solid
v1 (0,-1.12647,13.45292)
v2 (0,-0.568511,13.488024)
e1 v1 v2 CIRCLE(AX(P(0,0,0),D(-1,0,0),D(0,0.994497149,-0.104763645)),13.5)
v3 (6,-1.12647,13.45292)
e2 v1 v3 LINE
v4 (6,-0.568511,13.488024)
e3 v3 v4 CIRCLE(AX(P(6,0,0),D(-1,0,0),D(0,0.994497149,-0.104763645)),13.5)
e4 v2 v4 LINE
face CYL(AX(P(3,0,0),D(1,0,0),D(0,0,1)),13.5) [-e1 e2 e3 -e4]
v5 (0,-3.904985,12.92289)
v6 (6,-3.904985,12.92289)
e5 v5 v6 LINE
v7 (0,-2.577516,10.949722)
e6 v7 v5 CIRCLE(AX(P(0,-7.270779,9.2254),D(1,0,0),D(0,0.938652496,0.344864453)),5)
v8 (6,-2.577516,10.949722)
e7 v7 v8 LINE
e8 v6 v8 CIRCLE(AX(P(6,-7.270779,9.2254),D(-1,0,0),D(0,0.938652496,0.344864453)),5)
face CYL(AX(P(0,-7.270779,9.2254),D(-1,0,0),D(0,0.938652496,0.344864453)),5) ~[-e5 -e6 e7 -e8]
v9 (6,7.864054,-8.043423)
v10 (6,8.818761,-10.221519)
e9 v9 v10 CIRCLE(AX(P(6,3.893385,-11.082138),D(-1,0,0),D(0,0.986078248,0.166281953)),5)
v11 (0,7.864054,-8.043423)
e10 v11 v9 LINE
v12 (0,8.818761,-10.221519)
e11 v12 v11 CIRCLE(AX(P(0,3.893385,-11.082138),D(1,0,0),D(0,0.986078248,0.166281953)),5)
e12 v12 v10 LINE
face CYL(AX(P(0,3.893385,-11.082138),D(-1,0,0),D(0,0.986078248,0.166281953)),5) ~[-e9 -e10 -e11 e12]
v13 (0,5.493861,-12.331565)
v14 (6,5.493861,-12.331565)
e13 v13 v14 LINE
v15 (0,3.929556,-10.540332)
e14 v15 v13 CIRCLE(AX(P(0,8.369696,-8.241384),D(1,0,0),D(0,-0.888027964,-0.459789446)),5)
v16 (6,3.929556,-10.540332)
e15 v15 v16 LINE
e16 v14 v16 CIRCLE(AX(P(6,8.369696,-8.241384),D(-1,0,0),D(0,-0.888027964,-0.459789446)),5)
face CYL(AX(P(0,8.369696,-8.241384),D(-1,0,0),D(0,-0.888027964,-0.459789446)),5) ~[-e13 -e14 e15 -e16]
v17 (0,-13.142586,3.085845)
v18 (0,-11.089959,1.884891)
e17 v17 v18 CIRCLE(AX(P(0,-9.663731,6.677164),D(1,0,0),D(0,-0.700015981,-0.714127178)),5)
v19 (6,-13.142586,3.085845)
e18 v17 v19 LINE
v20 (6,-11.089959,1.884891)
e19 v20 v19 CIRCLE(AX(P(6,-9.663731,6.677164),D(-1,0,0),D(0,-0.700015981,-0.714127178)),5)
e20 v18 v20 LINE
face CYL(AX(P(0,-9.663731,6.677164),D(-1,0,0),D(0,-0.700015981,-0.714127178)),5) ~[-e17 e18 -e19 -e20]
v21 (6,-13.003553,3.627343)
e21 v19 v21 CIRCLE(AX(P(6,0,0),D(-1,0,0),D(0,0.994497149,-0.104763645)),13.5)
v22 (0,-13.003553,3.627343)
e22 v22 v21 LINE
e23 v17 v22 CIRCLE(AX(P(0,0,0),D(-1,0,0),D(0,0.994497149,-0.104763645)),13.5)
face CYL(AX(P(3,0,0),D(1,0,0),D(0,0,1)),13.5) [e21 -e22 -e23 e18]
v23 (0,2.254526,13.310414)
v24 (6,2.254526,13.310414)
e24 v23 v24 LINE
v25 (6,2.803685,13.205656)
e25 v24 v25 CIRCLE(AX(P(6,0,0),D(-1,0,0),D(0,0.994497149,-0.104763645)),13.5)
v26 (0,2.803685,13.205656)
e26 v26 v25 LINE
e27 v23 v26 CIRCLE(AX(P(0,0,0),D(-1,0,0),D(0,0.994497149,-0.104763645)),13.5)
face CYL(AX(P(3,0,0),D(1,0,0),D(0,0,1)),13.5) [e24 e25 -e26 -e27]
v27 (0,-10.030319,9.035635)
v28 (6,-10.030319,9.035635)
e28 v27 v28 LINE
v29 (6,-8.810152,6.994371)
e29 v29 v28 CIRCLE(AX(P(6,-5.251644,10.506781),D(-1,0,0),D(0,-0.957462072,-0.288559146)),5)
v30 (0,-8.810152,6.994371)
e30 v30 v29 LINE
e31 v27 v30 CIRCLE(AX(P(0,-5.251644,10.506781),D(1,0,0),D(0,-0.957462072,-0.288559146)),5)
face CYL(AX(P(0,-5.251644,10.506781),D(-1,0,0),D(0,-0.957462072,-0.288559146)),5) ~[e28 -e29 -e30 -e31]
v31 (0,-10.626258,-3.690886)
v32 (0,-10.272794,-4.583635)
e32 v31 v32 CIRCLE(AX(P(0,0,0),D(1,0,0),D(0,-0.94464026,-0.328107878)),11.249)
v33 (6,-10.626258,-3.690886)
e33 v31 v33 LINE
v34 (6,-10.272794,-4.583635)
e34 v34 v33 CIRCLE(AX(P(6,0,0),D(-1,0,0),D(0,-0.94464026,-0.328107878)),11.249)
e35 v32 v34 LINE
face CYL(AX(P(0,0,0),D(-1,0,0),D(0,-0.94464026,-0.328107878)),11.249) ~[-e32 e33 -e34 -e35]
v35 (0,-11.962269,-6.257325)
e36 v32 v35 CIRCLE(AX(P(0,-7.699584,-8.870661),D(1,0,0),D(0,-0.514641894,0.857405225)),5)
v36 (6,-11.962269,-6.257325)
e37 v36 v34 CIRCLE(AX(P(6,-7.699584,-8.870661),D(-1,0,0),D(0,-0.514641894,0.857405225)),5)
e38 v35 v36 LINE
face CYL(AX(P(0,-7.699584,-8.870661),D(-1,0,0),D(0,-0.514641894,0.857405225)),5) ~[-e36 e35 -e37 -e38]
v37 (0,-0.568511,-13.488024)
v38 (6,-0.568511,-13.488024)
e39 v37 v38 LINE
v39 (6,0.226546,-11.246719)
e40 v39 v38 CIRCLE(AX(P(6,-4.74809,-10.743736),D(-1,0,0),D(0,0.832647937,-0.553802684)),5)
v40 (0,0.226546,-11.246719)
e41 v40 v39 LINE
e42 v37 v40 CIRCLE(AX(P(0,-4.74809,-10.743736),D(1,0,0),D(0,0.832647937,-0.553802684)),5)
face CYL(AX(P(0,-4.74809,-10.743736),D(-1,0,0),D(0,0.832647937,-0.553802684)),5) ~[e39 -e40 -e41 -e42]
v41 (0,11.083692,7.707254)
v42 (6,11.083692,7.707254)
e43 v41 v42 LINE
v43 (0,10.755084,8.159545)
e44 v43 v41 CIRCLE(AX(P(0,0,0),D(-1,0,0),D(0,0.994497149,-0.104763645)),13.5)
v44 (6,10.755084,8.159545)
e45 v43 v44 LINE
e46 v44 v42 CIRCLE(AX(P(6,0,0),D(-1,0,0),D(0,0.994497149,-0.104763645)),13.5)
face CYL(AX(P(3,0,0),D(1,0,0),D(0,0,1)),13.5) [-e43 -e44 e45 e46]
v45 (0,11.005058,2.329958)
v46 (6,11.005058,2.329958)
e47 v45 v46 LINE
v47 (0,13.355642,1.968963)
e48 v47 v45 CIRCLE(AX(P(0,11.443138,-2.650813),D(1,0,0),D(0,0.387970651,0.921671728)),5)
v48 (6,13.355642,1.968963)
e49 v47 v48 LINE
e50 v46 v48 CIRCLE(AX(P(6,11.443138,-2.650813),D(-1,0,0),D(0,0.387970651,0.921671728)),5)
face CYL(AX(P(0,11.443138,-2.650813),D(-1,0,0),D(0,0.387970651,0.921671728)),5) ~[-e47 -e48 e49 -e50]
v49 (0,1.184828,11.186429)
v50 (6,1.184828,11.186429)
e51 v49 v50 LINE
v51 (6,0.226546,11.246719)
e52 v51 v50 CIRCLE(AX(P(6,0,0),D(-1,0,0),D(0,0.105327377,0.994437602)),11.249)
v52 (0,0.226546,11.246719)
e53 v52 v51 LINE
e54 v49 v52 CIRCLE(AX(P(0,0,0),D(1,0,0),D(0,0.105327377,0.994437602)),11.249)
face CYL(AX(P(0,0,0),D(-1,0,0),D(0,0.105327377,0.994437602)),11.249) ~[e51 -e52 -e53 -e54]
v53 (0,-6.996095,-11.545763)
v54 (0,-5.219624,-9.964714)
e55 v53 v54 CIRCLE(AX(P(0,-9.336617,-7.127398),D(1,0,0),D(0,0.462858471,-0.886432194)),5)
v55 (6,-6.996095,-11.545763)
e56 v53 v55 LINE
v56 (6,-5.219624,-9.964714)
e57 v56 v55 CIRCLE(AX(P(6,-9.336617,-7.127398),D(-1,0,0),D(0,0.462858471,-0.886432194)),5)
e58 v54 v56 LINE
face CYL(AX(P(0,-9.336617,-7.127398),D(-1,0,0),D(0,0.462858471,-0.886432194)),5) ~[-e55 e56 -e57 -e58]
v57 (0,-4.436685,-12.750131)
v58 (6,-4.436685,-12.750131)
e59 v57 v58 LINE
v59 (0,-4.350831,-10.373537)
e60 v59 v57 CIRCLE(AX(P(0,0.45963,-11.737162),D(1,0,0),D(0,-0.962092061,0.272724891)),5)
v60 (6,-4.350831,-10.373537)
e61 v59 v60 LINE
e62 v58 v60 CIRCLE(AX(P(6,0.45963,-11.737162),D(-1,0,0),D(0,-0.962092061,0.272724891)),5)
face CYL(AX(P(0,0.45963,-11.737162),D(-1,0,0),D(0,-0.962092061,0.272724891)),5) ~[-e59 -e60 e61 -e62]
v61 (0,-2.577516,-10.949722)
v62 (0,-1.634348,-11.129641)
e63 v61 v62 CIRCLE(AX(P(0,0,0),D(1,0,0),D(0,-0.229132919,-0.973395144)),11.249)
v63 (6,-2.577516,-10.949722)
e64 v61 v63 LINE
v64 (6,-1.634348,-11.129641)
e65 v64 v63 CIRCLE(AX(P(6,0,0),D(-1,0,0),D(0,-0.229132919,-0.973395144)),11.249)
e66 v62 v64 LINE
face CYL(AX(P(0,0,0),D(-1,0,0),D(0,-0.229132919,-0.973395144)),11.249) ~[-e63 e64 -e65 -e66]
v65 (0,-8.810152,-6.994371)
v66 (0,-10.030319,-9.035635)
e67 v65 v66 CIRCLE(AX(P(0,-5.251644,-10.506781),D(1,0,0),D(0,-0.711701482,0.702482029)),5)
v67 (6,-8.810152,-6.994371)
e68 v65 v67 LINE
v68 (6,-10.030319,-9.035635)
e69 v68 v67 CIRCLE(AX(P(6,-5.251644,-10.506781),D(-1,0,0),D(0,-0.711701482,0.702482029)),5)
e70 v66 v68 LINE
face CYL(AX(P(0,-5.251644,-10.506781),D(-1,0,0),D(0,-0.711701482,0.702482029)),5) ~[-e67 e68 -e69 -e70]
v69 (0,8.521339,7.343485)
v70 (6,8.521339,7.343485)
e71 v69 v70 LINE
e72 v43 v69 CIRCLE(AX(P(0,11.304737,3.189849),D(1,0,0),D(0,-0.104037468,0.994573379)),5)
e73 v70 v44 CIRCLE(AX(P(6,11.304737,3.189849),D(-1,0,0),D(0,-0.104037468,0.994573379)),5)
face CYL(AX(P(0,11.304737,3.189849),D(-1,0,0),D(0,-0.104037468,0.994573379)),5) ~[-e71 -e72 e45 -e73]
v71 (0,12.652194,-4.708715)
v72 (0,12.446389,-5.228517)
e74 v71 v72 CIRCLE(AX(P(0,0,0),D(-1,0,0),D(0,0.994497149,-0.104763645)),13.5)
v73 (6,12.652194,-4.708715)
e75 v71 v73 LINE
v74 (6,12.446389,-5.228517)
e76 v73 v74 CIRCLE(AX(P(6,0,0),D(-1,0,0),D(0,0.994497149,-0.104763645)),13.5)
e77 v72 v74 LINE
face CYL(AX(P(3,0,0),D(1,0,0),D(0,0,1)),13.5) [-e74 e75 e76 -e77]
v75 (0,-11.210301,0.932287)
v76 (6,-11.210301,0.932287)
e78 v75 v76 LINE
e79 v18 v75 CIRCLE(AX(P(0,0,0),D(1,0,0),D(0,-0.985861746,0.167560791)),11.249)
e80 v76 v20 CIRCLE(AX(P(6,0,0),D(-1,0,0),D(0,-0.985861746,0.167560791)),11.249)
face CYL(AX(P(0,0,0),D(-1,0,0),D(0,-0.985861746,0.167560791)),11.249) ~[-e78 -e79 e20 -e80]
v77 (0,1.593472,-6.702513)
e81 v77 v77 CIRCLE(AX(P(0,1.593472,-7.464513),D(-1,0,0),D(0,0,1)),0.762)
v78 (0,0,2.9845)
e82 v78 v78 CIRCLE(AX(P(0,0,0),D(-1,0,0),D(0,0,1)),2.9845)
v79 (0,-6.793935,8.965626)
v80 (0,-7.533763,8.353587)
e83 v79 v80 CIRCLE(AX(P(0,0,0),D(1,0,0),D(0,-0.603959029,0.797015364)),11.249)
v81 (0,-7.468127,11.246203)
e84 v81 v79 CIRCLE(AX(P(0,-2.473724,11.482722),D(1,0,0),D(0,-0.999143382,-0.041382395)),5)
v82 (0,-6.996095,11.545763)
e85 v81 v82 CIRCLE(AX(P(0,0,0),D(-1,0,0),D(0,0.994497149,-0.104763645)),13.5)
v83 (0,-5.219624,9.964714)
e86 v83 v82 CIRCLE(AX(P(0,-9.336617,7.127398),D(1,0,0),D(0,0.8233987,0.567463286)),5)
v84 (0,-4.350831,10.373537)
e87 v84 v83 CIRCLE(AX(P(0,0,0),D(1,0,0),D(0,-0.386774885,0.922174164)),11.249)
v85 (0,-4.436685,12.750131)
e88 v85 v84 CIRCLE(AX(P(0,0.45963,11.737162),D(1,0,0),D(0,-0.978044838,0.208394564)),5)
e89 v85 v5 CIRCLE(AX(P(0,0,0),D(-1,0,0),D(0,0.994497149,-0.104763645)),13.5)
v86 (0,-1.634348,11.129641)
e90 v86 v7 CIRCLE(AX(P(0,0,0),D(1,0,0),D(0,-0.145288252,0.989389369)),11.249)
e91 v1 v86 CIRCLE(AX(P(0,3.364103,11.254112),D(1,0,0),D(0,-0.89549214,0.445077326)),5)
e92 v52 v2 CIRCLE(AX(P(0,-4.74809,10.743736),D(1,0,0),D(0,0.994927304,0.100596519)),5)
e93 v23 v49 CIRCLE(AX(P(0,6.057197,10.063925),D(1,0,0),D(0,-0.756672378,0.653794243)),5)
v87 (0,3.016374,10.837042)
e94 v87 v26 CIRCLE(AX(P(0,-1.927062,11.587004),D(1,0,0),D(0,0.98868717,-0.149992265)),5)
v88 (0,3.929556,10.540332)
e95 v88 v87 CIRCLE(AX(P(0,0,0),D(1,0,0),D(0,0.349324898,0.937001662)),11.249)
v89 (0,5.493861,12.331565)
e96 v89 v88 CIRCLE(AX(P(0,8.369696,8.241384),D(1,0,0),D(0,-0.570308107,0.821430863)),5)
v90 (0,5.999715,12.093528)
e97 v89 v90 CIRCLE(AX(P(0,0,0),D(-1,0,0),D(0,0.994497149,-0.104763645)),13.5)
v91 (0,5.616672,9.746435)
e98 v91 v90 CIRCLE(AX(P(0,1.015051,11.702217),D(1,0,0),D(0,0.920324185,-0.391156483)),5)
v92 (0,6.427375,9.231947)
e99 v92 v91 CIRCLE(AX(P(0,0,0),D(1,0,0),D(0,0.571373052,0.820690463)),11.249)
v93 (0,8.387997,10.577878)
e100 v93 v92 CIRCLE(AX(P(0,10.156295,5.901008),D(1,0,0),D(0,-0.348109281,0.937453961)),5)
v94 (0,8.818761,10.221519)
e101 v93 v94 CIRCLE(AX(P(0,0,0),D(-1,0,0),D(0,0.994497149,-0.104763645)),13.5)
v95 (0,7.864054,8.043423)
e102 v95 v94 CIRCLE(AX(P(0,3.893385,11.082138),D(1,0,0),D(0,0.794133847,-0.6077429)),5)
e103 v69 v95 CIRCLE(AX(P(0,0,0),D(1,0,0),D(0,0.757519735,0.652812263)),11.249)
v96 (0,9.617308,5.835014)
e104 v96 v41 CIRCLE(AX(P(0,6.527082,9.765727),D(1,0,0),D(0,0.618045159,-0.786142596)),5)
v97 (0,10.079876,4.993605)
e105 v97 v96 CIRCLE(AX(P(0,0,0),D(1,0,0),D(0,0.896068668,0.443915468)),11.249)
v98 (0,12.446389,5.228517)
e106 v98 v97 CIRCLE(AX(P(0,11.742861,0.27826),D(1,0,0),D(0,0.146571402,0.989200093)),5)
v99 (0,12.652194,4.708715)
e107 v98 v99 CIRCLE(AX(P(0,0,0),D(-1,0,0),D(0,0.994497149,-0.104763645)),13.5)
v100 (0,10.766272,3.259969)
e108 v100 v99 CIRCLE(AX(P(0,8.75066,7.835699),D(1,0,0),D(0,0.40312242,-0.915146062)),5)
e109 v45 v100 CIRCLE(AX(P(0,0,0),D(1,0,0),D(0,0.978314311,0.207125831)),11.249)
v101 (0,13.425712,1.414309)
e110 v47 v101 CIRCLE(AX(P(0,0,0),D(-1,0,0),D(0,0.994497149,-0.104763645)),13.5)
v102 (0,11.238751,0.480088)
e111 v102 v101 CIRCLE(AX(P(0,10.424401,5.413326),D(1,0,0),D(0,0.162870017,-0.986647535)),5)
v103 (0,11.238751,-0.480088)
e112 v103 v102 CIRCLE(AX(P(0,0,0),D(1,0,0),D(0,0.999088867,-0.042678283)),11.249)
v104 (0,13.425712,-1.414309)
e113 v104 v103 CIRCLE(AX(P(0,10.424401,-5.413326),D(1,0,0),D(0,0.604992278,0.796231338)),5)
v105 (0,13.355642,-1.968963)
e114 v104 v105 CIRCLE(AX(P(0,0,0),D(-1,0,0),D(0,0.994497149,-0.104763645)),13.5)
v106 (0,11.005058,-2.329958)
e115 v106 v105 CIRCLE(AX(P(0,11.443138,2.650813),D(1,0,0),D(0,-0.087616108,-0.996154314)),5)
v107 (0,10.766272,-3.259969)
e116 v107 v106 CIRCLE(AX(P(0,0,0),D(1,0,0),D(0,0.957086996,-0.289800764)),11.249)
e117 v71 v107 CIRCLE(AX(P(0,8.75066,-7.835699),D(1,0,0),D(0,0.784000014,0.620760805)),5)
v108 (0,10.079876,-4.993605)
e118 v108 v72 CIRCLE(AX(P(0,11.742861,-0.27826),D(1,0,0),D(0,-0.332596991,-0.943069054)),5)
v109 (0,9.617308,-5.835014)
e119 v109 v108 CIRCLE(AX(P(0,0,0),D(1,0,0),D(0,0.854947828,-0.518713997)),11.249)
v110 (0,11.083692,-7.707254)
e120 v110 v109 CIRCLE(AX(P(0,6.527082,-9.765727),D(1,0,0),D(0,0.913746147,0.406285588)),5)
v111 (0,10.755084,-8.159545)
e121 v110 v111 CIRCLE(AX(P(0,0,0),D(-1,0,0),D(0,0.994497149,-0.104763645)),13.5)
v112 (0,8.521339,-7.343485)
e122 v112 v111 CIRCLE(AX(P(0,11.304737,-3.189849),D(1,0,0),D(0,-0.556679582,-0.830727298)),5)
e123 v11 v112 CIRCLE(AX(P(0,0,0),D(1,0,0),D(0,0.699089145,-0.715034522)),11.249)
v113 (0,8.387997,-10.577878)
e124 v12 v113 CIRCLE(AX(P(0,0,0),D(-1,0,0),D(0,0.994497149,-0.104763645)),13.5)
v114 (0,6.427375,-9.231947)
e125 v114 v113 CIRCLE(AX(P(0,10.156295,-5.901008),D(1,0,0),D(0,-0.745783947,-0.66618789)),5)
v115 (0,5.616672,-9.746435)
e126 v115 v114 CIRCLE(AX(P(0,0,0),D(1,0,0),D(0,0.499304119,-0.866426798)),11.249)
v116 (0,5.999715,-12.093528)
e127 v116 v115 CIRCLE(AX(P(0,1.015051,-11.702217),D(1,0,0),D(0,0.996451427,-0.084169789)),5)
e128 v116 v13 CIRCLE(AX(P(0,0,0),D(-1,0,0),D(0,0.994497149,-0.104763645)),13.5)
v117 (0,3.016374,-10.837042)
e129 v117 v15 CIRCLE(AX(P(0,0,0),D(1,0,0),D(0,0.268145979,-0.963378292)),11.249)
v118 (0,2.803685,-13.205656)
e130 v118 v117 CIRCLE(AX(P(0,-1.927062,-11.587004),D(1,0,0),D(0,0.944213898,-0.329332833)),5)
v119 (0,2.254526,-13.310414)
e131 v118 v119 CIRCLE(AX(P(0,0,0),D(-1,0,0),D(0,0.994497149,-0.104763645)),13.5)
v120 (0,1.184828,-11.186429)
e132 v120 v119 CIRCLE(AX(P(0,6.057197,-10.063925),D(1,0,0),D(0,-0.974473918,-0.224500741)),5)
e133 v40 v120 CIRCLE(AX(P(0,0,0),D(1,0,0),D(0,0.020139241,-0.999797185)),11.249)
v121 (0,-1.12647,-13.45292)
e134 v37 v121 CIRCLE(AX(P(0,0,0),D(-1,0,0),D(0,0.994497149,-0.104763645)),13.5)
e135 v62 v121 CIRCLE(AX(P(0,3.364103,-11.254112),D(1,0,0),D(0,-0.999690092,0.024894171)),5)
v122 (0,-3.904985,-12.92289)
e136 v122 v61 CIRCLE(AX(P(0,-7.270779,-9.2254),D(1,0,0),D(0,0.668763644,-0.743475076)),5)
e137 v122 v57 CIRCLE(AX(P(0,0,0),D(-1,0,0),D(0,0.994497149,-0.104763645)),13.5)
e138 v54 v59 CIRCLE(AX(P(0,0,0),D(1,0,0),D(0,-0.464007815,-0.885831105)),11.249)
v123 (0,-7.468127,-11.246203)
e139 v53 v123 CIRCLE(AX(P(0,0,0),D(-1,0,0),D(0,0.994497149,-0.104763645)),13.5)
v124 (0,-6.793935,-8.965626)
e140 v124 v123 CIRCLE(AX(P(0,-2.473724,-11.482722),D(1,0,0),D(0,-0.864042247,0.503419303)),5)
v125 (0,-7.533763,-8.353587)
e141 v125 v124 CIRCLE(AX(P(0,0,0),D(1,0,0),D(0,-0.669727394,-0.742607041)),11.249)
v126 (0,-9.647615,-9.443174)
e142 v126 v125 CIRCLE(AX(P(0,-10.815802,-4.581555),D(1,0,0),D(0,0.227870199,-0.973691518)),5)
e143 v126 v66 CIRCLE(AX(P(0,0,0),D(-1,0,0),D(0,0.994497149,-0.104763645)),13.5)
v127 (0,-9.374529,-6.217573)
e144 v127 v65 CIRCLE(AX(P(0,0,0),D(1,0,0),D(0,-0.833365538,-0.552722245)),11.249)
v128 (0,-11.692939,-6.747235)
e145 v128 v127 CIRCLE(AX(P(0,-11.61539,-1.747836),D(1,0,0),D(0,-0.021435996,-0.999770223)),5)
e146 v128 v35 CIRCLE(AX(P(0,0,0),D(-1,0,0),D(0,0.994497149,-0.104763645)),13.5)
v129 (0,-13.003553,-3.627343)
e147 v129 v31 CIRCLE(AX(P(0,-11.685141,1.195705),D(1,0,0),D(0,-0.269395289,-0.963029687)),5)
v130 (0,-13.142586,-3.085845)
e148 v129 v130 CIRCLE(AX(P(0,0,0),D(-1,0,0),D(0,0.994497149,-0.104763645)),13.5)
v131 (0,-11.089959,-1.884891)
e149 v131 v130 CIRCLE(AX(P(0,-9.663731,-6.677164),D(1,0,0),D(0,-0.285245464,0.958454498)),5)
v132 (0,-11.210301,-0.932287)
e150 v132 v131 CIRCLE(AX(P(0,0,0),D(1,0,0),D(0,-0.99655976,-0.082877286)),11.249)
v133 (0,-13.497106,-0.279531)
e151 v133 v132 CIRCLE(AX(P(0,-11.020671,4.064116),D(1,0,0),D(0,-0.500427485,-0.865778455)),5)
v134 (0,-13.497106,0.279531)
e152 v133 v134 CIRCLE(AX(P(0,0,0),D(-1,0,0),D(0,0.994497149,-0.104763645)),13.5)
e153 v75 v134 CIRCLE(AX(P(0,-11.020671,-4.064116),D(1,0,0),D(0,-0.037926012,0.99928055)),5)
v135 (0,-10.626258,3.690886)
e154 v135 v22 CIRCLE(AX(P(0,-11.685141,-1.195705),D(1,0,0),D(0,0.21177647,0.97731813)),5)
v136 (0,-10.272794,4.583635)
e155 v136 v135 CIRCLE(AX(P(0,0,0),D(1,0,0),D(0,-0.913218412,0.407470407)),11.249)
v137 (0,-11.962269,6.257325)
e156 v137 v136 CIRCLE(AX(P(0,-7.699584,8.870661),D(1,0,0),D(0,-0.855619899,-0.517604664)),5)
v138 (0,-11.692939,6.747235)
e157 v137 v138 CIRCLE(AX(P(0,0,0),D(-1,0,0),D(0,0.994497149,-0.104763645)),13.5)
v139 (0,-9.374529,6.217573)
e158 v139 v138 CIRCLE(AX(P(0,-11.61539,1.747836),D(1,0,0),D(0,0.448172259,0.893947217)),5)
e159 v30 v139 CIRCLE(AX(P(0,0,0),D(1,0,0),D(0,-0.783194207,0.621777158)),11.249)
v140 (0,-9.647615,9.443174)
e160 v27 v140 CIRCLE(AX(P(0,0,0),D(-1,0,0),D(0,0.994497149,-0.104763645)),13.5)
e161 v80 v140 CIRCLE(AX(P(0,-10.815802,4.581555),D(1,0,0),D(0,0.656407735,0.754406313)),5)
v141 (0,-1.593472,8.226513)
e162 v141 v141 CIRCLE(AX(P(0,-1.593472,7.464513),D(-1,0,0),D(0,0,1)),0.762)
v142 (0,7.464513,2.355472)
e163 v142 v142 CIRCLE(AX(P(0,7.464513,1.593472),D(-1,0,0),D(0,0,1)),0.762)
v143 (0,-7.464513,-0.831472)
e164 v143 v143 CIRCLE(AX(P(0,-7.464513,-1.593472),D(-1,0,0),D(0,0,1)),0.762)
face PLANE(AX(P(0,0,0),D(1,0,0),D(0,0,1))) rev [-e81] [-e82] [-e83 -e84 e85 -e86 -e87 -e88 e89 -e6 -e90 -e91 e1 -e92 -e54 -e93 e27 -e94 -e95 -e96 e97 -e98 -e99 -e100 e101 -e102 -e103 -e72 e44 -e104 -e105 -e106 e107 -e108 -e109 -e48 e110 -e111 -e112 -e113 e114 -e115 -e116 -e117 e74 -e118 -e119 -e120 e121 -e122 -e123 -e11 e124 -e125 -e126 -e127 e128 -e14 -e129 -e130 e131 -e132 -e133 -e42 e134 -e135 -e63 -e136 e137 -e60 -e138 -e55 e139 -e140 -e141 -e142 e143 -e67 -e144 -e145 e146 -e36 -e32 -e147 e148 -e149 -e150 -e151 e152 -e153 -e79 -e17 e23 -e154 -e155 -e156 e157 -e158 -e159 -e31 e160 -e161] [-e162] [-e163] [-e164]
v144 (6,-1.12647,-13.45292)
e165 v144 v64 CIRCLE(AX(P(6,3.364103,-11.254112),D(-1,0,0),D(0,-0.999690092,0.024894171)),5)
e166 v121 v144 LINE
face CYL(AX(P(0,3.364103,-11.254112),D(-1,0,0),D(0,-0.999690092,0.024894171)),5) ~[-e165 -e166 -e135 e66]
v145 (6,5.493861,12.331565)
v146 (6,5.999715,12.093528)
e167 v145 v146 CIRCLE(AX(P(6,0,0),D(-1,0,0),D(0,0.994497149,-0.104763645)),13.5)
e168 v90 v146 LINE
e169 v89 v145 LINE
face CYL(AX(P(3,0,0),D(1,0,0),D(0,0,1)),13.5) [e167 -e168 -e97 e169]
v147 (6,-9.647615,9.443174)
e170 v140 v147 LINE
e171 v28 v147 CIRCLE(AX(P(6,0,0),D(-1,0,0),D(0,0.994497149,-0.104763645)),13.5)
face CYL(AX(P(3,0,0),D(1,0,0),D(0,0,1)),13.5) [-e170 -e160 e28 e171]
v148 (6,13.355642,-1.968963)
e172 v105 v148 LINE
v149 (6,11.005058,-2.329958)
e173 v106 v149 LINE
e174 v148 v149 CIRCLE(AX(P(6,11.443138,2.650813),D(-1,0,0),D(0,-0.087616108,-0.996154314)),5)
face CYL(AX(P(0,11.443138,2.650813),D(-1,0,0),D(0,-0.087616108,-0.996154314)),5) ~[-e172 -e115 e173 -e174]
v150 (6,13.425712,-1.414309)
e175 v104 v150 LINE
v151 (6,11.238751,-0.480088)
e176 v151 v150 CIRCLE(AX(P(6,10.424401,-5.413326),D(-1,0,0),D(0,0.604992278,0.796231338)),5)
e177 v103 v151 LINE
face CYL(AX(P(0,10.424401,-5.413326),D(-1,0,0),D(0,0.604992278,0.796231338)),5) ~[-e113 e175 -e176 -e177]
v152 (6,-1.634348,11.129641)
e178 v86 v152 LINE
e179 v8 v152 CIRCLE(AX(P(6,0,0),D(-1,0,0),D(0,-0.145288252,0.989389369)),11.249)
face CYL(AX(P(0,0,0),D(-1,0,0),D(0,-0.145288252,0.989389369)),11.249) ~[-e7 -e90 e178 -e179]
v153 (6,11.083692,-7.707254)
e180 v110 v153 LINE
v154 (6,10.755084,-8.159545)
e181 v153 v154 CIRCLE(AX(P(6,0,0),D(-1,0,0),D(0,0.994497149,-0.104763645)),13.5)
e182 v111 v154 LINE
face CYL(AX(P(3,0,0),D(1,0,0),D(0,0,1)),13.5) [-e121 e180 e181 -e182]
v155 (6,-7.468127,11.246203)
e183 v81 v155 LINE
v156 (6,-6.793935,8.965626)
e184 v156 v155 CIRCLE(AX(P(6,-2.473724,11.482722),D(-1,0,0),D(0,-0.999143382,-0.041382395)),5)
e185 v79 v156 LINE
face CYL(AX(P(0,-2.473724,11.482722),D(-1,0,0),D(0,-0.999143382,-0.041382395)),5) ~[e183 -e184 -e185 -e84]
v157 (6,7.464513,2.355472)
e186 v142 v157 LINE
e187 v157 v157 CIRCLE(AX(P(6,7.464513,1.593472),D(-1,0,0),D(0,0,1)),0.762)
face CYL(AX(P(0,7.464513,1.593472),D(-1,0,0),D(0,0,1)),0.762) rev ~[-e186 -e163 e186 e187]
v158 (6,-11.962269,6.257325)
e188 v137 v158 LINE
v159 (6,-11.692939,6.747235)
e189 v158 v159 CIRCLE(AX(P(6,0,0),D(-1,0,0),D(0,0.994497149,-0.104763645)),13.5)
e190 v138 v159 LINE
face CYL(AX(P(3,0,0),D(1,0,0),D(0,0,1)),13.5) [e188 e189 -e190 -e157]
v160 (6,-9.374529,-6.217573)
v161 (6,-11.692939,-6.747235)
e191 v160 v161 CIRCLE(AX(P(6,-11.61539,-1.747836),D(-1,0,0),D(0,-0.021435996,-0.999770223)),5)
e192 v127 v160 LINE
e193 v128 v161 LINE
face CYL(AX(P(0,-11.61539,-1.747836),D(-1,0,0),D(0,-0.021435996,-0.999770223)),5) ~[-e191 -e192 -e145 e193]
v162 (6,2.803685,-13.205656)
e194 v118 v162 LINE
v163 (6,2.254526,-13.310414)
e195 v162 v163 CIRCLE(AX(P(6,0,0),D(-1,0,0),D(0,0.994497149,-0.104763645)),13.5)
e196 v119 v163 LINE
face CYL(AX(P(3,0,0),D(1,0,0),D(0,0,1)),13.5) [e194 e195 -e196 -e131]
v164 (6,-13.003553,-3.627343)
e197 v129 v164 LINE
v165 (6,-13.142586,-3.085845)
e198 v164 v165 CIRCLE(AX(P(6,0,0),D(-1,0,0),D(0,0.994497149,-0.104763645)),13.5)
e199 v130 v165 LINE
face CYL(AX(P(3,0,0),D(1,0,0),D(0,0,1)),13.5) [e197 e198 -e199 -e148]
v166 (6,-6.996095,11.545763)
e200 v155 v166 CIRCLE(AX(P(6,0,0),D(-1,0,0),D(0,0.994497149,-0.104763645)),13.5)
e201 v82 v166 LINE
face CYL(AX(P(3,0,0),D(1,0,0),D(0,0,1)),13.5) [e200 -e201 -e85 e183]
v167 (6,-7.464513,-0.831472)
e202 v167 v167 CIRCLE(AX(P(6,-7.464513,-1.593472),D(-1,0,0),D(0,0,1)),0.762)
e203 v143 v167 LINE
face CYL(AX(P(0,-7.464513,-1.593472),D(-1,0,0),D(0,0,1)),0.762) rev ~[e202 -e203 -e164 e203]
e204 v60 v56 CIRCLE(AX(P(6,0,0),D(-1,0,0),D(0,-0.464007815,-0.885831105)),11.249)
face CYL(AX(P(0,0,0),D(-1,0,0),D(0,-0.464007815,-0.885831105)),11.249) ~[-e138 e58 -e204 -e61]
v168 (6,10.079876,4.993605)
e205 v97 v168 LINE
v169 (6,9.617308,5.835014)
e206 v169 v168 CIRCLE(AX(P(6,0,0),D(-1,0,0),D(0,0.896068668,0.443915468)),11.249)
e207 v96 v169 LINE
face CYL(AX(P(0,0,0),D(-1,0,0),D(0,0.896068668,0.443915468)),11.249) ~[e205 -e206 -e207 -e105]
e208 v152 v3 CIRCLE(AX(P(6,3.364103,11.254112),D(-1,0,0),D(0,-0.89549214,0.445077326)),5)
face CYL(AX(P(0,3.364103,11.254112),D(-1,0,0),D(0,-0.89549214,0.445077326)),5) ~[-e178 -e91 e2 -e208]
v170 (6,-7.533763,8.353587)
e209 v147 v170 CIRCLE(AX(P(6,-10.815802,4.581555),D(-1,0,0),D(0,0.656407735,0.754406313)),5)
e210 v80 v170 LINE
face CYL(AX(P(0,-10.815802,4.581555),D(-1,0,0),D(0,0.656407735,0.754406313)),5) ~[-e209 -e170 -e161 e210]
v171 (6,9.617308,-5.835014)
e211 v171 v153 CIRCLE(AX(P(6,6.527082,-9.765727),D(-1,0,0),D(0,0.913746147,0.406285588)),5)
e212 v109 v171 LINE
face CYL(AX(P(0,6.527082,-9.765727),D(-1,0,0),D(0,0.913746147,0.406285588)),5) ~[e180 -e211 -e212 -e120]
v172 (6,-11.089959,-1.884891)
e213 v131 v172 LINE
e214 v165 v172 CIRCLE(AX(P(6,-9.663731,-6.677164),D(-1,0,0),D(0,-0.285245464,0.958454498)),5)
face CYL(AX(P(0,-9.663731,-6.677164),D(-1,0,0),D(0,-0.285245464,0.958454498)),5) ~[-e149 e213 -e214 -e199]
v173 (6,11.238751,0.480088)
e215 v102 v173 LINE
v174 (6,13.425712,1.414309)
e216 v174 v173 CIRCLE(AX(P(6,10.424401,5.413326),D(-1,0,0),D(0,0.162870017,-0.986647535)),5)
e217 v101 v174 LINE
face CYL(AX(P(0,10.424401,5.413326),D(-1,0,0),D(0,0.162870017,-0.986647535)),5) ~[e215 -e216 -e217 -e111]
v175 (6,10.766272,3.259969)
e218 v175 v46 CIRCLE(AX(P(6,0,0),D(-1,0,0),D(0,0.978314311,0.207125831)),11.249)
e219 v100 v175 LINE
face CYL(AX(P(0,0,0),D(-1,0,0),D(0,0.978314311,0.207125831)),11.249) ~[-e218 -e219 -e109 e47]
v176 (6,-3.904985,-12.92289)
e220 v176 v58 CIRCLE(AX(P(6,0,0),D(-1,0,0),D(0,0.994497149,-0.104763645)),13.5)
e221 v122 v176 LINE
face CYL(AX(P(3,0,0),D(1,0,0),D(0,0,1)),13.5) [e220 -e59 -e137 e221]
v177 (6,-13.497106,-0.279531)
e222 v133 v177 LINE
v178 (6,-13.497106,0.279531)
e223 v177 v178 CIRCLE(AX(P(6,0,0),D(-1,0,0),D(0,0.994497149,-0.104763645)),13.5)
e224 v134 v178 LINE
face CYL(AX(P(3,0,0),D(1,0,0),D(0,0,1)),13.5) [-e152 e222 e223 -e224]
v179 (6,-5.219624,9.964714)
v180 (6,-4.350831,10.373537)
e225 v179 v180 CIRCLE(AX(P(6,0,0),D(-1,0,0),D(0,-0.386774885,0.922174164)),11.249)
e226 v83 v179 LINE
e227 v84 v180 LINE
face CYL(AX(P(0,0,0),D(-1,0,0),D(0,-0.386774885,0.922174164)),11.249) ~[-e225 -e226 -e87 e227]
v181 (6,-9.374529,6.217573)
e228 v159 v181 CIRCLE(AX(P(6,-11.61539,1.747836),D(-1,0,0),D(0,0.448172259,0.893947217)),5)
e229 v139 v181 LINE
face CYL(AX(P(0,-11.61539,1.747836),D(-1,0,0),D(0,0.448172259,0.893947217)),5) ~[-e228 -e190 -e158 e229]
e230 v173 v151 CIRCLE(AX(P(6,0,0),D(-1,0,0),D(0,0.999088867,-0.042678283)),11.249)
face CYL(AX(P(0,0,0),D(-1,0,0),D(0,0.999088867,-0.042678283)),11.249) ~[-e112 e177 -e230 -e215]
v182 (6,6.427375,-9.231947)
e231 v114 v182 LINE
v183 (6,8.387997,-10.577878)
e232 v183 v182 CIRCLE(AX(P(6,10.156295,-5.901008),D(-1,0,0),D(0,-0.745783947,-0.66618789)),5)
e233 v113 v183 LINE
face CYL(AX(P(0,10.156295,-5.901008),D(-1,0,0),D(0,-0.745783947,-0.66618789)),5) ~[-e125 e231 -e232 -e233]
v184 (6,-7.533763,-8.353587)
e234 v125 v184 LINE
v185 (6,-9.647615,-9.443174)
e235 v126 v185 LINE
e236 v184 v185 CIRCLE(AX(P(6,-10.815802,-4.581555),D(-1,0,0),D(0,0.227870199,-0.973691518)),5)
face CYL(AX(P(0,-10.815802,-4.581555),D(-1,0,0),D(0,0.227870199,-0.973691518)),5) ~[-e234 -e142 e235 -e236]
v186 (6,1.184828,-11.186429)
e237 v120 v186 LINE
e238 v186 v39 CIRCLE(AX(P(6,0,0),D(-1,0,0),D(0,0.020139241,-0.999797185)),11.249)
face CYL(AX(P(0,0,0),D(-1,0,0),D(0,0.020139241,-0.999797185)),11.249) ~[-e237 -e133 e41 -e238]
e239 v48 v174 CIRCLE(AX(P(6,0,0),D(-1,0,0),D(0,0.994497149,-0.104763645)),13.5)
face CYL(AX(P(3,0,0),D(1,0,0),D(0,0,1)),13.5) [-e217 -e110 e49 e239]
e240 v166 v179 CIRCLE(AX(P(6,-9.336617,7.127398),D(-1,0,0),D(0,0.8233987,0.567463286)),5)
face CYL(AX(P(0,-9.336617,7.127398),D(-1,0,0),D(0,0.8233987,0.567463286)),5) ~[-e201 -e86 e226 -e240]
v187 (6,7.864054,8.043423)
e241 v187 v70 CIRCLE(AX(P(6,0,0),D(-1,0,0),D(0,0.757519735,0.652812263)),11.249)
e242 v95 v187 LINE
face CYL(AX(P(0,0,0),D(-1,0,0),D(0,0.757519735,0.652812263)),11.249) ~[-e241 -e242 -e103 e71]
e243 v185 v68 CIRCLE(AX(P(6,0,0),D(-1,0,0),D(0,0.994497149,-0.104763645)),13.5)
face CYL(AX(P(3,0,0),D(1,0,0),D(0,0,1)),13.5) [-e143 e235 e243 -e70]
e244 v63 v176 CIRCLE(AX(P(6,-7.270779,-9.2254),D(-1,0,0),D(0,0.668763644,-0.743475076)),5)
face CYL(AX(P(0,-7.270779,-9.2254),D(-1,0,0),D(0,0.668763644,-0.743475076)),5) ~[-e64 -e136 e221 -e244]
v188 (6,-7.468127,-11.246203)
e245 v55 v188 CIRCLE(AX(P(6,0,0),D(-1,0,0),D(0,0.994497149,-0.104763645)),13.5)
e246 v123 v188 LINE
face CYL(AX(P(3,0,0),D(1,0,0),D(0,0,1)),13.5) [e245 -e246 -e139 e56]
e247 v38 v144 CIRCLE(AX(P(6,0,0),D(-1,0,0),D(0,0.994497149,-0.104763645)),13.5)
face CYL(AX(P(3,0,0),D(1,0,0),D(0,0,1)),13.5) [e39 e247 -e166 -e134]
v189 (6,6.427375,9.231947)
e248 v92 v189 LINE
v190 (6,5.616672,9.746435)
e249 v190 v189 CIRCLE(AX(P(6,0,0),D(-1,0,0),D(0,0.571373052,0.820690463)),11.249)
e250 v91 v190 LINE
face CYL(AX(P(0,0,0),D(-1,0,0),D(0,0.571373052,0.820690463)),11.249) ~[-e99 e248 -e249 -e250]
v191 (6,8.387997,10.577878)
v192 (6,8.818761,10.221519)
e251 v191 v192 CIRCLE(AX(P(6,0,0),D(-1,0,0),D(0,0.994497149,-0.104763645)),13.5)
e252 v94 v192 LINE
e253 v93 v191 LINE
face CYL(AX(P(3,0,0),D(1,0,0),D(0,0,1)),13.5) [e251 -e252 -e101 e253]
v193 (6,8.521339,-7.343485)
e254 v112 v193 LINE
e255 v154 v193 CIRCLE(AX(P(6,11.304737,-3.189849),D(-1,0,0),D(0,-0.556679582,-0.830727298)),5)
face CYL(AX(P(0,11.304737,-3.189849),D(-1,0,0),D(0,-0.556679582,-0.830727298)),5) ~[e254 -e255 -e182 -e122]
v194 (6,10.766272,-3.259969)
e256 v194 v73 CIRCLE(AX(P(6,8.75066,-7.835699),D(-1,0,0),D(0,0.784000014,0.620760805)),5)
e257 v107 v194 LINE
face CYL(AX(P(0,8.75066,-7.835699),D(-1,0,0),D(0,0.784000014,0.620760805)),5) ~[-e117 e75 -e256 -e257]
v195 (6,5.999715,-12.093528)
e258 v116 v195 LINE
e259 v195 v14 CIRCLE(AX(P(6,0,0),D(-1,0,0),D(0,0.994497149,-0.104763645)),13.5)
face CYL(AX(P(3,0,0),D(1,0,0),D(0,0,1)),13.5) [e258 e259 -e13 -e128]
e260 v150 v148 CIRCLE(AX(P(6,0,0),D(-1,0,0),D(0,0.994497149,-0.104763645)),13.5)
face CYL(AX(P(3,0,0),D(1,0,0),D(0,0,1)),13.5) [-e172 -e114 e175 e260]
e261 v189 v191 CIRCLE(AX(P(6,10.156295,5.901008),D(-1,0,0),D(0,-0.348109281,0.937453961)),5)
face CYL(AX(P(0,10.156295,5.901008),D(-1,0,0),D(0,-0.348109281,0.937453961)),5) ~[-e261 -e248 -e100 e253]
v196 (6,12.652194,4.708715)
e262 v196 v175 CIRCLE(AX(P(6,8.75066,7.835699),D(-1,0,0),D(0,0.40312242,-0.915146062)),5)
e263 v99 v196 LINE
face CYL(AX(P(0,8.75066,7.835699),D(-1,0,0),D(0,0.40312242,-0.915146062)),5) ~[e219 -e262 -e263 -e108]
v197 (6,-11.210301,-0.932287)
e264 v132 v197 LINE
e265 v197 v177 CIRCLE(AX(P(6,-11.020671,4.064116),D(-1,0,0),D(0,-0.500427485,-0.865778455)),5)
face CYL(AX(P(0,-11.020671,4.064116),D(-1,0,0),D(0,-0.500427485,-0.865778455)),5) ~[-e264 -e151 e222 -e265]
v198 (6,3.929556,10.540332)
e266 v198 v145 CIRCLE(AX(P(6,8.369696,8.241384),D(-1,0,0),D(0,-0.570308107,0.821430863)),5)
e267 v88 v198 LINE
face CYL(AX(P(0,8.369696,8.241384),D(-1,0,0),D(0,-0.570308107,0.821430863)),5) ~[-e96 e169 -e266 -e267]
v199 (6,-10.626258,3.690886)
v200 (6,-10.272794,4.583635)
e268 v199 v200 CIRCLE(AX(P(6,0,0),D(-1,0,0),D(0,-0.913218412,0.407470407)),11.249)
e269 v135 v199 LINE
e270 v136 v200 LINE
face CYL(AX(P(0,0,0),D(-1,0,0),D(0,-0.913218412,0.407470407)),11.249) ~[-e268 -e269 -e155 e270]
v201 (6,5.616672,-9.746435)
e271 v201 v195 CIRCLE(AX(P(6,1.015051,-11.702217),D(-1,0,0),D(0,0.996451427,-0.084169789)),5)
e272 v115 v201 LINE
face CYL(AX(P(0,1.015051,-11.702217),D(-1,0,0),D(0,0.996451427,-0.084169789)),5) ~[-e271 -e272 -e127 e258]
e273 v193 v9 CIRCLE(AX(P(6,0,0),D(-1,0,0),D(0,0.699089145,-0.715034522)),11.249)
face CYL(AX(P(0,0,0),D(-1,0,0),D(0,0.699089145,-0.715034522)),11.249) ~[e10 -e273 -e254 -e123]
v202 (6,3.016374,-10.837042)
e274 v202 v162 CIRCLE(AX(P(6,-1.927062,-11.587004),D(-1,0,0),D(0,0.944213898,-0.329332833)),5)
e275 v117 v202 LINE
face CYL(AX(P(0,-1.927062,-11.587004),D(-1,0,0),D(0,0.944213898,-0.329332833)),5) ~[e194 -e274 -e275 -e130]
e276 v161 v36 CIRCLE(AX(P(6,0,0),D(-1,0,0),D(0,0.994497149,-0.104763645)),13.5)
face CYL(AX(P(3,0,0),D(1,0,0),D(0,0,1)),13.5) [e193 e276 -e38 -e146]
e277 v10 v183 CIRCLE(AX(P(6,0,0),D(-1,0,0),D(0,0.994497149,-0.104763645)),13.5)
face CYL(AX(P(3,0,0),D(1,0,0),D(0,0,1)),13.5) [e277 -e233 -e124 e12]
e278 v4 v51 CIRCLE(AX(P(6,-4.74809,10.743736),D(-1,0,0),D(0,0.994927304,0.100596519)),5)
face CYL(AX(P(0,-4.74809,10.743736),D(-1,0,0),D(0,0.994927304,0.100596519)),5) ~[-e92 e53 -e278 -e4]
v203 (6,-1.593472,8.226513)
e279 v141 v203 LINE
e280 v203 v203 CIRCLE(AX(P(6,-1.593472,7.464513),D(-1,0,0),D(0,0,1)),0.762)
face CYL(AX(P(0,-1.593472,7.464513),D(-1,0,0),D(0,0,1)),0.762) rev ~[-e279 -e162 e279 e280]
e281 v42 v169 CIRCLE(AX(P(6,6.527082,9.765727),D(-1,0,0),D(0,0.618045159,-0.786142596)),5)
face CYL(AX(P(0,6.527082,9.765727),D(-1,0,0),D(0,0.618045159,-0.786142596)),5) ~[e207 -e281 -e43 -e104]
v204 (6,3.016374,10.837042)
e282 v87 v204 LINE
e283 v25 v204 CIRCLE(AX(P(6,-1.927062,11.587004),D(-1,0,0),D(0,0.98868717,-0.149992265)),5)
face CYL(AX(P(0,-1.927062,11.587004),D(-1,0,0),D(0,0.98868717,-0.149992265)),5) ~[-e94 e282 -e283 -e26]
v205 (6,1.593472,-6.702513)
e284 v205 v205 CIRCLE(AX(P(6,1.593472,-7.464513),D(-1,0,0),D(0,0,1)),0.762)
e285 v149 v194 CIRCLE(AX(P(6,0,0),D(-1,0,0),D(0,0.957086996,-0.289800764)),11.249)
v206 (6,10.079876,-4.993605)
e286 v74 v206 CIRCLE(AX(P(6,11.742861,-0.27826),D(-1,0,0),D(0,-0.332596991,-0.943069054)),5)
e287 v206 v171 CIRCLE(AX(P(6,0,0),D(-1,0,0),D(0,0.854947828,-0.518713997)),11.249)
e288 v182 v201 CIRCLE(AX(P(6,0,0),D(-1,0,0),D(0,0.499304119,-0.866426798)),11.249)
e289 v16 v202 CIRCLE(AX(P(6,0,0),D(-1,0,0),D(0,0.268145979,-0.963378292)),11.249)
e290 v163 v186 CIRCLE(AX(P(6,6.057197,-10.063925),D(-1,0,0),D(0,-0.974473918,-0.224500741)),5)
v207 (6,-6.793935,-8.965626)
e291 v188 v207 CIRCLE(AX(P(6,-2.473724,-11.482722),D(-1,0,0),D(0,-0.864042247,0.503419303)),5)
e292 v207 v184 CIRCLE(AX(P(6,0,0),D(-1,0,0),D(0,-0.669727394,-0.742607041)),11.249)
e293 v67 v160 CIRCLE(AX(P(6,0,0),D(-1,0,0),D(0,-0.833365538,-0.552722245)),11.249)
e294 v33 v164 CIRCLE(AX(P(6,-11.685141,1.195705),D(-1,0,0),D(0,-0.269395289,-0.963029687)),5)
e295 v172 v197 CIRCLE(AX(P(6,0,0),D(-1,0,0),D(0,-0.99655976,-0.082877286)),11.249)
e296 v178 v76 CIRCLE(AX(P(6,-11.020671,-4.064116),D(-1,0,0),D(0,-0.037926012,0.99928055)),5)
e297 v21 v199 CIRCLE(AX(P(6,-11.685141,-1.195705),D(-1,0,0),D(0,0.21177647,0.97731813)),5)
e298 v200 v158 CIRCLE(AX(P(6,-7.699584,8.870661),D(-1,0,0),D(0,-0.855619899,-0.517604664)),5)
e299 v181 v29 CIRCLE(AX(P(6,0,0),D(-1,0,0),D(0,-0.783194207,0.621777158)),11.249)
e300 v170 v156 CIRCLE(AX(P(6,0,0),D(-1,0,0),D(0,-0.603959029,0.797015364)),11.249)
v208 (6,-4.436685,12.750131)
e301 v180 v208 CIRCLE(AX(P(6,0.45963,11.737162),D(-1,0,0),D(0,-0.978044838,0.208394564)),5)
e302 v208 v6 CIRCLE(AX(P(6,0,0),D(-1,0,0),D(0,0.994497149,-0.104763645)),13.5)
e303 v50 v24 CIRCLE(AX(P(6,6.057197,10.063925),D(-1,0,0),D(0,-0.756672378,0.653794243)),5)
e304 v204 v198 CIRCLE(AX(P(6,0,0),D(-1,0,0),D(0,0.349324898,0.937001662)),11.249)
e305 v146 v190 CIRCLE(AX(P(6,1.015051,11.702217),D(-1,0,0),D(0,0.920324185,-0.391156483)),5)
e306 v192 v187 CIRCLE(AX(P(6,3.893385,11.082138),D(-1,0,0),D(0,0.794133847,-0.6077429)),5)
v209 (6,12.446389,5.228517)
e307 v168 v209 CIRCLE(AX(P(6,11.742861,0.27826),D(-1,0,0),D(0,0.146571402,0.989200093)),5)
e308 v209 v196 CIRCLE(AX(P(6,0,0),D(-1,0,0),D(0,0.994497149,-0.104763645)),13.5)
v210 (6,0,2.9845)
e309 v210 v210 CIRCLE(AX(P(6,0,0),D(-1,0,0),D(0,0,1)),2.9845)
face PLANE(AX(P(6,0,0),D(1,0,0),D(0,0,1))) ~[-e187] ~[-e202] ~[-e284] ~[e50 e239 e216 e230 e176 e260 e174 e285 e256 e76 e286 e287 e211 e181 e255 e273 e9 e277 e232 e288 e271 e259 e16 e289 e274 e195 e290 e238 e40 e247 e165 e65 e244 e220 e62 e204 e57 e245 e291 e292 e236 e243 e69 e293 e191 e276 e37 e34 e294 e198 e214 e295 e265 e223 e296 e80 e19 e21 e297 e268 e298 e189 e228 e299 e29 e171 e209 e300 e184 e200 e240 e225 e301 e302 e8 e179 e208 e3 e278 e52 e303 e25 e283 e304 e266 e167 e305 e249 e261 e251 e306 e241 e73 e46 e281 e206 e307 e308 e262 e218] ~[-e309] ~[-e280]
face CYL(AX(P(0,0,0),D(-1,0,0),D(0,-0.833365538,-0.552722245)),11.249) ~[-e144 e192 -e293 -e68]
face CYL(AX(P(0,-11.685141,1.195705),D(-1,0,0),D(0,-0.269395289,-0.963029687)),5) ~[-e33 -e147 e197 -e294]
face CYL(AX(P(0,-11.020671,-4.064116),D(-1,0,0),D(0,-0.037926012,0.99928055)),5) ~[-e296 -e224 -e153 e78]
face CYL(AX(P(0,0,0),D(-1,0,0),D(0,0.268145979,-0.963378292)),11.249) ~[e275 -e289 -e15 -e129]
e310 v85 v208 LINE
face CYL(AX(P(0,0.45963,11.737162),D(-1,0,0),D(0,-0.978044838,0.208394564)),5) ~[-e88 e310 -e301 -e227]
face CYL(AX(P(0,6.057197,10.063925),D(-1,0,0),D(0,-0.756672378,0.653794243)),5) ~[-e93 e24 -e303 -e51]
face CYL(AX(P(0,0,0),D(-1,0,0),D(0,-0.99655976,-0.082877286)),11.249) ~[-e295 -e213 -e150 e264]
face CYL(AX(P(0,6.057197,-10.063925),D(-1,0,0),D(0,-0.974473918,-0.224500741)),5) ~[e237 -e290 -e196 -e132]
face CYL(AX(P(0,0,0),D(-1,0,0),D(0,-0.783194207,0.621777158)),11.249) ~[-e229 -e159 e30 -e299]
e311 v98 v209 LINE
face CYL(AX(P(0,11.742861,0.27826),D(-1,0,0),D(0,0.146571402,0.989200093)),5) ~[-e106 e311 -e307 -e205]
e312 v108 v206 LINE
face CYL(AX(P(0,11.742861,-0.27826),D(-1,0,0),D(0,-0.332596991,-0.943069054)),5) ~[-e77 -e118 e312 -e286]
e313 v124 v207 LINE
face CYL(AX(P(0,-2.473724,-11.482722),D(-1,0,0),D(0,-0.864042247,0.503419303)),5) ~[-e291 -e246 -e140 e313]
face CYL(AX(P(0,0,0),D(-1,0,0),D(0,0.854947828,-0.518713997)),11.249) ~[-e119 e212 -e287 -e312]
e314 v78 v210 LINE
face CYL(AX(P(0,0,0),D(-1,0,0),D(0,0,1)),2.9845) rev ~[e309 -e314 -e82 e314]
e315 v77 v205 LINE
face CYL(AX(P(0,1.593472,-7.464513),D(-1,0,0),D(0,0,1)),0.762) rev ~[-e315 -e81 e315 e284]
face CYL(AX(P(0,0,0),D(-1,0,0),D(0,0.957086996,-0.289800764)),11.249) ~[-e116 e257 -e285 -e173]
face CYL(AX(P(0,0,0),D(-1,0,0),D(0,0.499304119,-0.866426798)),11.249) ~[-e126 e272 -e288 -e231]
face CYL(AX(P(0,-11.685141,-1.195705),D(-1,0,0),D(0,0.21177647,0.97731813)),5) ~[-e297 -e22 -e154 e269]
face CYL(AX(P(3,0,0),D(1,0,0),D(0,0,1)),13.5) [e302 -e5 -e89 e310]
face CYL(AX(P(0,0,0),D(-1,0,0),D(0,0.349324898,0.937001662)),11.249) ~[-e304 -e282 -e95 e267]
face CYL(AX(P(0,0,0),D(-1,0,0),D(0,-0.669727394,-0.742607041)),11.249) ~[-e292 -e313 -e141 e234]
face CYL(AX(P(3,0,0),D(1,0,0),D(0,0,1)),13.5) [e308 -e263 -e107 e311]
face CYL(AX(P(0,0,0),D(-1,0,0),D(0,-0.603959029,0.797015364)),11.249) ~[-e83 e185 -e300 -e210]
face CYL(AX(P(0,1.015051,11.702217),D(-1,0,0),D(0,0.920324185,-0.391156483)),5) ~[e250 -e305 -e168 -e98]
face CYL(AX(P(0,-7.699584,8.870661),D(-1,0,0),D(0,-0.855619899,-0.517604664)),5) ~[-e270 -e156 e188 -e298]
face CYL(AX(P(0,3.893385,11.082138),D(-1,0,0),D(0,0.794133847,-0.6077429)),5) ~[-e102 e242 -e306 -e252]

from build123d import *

# Parameters (mm, degrees)
BASPROSKE_W        = 6
BASPROSKE_H        = 13.5
TOOTHCUT_DEPTH     = 21.012496096
TEETHCUTS_COUNT    = 25
TEETHCUTS_ANGLE    = 345.6
BORSKE_R           = 2.5
BORE_DEPTH         = 50.0000508
SKETCH1_R          = 0.762
SKETCH1_R_2        = 2.9845
SKETCH1_R_3        = 2.5
CUT_EXTRUDE1_DEPTH = 149.550528118


with BuildPart() as part:
    # BasProSke → Base-Revolve (revolve)
    with BuildSketch(Plane(origin=(0, 0, 0), x_dir=(1, 0, 0), z_dir=(0, 1, 0)), mode=Mode.PRIVATE) as base_revolve_sk:
        with Locations((3, 6.75)):
            Rectangle(BASPROSKE_W, BASPROSKE_H)
    revolve(base_revolve_sk.sketch.rotate(Axis((-10, 0, 0), (1, 0, 0)), 180), axis=Axis((-10, 0, 0), (1, 0, 0)))

    # TooCutSke → ToothCut (cut, through all)
    with BuildSketch(Plane(origin=(0, 0, 0), x_dir=(0, 0, -1), z_dir=(1, 0, 0))):
        with BuildLine():
            ThreePointArc((0.480087995, 11.238750665), (0, 11.249), (-0.480087995, 11.238750665))
            ThreePointArc((-0.480087995, 11.238750665), (-0.821124963, 12.40220054), (-1.432168974, 13.449361962))
            ThreePointArc((-1.432168974, 13.449361962), (0, 13.5254), (1.432168974, 13.449361962))
            ThreePointArc((1.432168974, 13.449361962), (0.821124963, 12.40220054), (0.480087995, 11.238750665))
        make_face()
    toothcut = extrude(amount=TOOTHCUT_DEPTH, mode=Mode.SUBTRACT)

    # TeethCuts: ToothCut ×25 about axis
    teethcuts_axis = Axis((-10, 0, 0), (1, 0, 0))
    for i in range(1, TEETHCUTS_COUNT):
        add(toothcut.rotate(teethcuts_axis, i * TEETHCUTS_ANGLE / (TEETHCUTS_COUNT - 1)), mode=Mode.SUBTRACT)

    # BorSke → Bore (cut, symmetric)
    with BuildSketch(Plane(origin=(0, 0, 0), x_dir=(0, 0, -1), z_dir=(1, 0, 0))):
        with Locations(Location((0, 0, 0), (0, 0, 180))):
            Circle(BORSKE_R)
    extrude(amount=BORE_DEPTH, both=True, mode=Mode.SUBTRACT)

    # Sketch1 → Cut-Extrude1 (cut, through all)
    # profile 1 of 5: a face of its own
    with BuildSketch(Plane(origin=(0, -120.077012647, 51.383248755), x_dir=(0, 0.18176265719649715, 0.9833424309206171), z_dir=(-1, 0, 0))):
        with Locations(Location((-21.651272984, 124.49267918, 0), (0, 0, 349.527553538))):
            Circle(SKETCH1_R)
    # profile 2 of 5: a face of its own
    with BuildSketch(Plane(origin=(0, -120.077012647, 51.383248755), x_dir=(0, 0.18176265719649715, 0.9833424309206171), z_dir=(-1, 0, 0))):
        with Locations(Location((-25.778113688, 134.466916212, 0), (0, 0, 349.527553538))):
            Circle(SKETCH1_R)
    # profile 3 of 5: a face of its own
    with BuildSketch(Plane(origin=(0, -120.077012647, 51.383248755), x_dir=(0, 0.18176265719649715, 0.9833424309206171), z_dir=(-1, 0, 0))):
        with Locations(Location((-35.752350721, 130.340075507, 0), (0, 0, 349.527553538))):
            Circle(SKETCH1_R)
    # profile 4 of 5: a face of its own
    with BuildSketch(Plane(origin=(0, -120.077012647, 51.383248755), x_dir=(0, 0.18176265719649715, 0.9833424309206171), z_dir=(-1, 0, 0))):
        with Locations(Location((-31.625510016, 120.365838475, 0), (0, 0, 349.527553538))):
            Circle(SKETCH1_R)
    # profile 5 of 5: a face of its own
    with BuildSketch(Plane(origin=(0, -120.077012647, 51.383248755), x_dir=(0, 0.18176265719649715, 0.9833424309206171), z_dir=(-1, 0, 0))):
        with Locations(Location((-28.701811852, 127.416377343, 0), (0, 0, 349.527553538))):
            Circle(SKETCH1_R_2)
        with Locations((-28.701811852, 127.416377343)):
            Circle(SKETCH1_R_3, mode=Mode.SUBTRACT)
    extrude(amount=-CUT_EXTRUDE1_DEPTH, mode=Mode.SUBTRACT)


solid = part.part
